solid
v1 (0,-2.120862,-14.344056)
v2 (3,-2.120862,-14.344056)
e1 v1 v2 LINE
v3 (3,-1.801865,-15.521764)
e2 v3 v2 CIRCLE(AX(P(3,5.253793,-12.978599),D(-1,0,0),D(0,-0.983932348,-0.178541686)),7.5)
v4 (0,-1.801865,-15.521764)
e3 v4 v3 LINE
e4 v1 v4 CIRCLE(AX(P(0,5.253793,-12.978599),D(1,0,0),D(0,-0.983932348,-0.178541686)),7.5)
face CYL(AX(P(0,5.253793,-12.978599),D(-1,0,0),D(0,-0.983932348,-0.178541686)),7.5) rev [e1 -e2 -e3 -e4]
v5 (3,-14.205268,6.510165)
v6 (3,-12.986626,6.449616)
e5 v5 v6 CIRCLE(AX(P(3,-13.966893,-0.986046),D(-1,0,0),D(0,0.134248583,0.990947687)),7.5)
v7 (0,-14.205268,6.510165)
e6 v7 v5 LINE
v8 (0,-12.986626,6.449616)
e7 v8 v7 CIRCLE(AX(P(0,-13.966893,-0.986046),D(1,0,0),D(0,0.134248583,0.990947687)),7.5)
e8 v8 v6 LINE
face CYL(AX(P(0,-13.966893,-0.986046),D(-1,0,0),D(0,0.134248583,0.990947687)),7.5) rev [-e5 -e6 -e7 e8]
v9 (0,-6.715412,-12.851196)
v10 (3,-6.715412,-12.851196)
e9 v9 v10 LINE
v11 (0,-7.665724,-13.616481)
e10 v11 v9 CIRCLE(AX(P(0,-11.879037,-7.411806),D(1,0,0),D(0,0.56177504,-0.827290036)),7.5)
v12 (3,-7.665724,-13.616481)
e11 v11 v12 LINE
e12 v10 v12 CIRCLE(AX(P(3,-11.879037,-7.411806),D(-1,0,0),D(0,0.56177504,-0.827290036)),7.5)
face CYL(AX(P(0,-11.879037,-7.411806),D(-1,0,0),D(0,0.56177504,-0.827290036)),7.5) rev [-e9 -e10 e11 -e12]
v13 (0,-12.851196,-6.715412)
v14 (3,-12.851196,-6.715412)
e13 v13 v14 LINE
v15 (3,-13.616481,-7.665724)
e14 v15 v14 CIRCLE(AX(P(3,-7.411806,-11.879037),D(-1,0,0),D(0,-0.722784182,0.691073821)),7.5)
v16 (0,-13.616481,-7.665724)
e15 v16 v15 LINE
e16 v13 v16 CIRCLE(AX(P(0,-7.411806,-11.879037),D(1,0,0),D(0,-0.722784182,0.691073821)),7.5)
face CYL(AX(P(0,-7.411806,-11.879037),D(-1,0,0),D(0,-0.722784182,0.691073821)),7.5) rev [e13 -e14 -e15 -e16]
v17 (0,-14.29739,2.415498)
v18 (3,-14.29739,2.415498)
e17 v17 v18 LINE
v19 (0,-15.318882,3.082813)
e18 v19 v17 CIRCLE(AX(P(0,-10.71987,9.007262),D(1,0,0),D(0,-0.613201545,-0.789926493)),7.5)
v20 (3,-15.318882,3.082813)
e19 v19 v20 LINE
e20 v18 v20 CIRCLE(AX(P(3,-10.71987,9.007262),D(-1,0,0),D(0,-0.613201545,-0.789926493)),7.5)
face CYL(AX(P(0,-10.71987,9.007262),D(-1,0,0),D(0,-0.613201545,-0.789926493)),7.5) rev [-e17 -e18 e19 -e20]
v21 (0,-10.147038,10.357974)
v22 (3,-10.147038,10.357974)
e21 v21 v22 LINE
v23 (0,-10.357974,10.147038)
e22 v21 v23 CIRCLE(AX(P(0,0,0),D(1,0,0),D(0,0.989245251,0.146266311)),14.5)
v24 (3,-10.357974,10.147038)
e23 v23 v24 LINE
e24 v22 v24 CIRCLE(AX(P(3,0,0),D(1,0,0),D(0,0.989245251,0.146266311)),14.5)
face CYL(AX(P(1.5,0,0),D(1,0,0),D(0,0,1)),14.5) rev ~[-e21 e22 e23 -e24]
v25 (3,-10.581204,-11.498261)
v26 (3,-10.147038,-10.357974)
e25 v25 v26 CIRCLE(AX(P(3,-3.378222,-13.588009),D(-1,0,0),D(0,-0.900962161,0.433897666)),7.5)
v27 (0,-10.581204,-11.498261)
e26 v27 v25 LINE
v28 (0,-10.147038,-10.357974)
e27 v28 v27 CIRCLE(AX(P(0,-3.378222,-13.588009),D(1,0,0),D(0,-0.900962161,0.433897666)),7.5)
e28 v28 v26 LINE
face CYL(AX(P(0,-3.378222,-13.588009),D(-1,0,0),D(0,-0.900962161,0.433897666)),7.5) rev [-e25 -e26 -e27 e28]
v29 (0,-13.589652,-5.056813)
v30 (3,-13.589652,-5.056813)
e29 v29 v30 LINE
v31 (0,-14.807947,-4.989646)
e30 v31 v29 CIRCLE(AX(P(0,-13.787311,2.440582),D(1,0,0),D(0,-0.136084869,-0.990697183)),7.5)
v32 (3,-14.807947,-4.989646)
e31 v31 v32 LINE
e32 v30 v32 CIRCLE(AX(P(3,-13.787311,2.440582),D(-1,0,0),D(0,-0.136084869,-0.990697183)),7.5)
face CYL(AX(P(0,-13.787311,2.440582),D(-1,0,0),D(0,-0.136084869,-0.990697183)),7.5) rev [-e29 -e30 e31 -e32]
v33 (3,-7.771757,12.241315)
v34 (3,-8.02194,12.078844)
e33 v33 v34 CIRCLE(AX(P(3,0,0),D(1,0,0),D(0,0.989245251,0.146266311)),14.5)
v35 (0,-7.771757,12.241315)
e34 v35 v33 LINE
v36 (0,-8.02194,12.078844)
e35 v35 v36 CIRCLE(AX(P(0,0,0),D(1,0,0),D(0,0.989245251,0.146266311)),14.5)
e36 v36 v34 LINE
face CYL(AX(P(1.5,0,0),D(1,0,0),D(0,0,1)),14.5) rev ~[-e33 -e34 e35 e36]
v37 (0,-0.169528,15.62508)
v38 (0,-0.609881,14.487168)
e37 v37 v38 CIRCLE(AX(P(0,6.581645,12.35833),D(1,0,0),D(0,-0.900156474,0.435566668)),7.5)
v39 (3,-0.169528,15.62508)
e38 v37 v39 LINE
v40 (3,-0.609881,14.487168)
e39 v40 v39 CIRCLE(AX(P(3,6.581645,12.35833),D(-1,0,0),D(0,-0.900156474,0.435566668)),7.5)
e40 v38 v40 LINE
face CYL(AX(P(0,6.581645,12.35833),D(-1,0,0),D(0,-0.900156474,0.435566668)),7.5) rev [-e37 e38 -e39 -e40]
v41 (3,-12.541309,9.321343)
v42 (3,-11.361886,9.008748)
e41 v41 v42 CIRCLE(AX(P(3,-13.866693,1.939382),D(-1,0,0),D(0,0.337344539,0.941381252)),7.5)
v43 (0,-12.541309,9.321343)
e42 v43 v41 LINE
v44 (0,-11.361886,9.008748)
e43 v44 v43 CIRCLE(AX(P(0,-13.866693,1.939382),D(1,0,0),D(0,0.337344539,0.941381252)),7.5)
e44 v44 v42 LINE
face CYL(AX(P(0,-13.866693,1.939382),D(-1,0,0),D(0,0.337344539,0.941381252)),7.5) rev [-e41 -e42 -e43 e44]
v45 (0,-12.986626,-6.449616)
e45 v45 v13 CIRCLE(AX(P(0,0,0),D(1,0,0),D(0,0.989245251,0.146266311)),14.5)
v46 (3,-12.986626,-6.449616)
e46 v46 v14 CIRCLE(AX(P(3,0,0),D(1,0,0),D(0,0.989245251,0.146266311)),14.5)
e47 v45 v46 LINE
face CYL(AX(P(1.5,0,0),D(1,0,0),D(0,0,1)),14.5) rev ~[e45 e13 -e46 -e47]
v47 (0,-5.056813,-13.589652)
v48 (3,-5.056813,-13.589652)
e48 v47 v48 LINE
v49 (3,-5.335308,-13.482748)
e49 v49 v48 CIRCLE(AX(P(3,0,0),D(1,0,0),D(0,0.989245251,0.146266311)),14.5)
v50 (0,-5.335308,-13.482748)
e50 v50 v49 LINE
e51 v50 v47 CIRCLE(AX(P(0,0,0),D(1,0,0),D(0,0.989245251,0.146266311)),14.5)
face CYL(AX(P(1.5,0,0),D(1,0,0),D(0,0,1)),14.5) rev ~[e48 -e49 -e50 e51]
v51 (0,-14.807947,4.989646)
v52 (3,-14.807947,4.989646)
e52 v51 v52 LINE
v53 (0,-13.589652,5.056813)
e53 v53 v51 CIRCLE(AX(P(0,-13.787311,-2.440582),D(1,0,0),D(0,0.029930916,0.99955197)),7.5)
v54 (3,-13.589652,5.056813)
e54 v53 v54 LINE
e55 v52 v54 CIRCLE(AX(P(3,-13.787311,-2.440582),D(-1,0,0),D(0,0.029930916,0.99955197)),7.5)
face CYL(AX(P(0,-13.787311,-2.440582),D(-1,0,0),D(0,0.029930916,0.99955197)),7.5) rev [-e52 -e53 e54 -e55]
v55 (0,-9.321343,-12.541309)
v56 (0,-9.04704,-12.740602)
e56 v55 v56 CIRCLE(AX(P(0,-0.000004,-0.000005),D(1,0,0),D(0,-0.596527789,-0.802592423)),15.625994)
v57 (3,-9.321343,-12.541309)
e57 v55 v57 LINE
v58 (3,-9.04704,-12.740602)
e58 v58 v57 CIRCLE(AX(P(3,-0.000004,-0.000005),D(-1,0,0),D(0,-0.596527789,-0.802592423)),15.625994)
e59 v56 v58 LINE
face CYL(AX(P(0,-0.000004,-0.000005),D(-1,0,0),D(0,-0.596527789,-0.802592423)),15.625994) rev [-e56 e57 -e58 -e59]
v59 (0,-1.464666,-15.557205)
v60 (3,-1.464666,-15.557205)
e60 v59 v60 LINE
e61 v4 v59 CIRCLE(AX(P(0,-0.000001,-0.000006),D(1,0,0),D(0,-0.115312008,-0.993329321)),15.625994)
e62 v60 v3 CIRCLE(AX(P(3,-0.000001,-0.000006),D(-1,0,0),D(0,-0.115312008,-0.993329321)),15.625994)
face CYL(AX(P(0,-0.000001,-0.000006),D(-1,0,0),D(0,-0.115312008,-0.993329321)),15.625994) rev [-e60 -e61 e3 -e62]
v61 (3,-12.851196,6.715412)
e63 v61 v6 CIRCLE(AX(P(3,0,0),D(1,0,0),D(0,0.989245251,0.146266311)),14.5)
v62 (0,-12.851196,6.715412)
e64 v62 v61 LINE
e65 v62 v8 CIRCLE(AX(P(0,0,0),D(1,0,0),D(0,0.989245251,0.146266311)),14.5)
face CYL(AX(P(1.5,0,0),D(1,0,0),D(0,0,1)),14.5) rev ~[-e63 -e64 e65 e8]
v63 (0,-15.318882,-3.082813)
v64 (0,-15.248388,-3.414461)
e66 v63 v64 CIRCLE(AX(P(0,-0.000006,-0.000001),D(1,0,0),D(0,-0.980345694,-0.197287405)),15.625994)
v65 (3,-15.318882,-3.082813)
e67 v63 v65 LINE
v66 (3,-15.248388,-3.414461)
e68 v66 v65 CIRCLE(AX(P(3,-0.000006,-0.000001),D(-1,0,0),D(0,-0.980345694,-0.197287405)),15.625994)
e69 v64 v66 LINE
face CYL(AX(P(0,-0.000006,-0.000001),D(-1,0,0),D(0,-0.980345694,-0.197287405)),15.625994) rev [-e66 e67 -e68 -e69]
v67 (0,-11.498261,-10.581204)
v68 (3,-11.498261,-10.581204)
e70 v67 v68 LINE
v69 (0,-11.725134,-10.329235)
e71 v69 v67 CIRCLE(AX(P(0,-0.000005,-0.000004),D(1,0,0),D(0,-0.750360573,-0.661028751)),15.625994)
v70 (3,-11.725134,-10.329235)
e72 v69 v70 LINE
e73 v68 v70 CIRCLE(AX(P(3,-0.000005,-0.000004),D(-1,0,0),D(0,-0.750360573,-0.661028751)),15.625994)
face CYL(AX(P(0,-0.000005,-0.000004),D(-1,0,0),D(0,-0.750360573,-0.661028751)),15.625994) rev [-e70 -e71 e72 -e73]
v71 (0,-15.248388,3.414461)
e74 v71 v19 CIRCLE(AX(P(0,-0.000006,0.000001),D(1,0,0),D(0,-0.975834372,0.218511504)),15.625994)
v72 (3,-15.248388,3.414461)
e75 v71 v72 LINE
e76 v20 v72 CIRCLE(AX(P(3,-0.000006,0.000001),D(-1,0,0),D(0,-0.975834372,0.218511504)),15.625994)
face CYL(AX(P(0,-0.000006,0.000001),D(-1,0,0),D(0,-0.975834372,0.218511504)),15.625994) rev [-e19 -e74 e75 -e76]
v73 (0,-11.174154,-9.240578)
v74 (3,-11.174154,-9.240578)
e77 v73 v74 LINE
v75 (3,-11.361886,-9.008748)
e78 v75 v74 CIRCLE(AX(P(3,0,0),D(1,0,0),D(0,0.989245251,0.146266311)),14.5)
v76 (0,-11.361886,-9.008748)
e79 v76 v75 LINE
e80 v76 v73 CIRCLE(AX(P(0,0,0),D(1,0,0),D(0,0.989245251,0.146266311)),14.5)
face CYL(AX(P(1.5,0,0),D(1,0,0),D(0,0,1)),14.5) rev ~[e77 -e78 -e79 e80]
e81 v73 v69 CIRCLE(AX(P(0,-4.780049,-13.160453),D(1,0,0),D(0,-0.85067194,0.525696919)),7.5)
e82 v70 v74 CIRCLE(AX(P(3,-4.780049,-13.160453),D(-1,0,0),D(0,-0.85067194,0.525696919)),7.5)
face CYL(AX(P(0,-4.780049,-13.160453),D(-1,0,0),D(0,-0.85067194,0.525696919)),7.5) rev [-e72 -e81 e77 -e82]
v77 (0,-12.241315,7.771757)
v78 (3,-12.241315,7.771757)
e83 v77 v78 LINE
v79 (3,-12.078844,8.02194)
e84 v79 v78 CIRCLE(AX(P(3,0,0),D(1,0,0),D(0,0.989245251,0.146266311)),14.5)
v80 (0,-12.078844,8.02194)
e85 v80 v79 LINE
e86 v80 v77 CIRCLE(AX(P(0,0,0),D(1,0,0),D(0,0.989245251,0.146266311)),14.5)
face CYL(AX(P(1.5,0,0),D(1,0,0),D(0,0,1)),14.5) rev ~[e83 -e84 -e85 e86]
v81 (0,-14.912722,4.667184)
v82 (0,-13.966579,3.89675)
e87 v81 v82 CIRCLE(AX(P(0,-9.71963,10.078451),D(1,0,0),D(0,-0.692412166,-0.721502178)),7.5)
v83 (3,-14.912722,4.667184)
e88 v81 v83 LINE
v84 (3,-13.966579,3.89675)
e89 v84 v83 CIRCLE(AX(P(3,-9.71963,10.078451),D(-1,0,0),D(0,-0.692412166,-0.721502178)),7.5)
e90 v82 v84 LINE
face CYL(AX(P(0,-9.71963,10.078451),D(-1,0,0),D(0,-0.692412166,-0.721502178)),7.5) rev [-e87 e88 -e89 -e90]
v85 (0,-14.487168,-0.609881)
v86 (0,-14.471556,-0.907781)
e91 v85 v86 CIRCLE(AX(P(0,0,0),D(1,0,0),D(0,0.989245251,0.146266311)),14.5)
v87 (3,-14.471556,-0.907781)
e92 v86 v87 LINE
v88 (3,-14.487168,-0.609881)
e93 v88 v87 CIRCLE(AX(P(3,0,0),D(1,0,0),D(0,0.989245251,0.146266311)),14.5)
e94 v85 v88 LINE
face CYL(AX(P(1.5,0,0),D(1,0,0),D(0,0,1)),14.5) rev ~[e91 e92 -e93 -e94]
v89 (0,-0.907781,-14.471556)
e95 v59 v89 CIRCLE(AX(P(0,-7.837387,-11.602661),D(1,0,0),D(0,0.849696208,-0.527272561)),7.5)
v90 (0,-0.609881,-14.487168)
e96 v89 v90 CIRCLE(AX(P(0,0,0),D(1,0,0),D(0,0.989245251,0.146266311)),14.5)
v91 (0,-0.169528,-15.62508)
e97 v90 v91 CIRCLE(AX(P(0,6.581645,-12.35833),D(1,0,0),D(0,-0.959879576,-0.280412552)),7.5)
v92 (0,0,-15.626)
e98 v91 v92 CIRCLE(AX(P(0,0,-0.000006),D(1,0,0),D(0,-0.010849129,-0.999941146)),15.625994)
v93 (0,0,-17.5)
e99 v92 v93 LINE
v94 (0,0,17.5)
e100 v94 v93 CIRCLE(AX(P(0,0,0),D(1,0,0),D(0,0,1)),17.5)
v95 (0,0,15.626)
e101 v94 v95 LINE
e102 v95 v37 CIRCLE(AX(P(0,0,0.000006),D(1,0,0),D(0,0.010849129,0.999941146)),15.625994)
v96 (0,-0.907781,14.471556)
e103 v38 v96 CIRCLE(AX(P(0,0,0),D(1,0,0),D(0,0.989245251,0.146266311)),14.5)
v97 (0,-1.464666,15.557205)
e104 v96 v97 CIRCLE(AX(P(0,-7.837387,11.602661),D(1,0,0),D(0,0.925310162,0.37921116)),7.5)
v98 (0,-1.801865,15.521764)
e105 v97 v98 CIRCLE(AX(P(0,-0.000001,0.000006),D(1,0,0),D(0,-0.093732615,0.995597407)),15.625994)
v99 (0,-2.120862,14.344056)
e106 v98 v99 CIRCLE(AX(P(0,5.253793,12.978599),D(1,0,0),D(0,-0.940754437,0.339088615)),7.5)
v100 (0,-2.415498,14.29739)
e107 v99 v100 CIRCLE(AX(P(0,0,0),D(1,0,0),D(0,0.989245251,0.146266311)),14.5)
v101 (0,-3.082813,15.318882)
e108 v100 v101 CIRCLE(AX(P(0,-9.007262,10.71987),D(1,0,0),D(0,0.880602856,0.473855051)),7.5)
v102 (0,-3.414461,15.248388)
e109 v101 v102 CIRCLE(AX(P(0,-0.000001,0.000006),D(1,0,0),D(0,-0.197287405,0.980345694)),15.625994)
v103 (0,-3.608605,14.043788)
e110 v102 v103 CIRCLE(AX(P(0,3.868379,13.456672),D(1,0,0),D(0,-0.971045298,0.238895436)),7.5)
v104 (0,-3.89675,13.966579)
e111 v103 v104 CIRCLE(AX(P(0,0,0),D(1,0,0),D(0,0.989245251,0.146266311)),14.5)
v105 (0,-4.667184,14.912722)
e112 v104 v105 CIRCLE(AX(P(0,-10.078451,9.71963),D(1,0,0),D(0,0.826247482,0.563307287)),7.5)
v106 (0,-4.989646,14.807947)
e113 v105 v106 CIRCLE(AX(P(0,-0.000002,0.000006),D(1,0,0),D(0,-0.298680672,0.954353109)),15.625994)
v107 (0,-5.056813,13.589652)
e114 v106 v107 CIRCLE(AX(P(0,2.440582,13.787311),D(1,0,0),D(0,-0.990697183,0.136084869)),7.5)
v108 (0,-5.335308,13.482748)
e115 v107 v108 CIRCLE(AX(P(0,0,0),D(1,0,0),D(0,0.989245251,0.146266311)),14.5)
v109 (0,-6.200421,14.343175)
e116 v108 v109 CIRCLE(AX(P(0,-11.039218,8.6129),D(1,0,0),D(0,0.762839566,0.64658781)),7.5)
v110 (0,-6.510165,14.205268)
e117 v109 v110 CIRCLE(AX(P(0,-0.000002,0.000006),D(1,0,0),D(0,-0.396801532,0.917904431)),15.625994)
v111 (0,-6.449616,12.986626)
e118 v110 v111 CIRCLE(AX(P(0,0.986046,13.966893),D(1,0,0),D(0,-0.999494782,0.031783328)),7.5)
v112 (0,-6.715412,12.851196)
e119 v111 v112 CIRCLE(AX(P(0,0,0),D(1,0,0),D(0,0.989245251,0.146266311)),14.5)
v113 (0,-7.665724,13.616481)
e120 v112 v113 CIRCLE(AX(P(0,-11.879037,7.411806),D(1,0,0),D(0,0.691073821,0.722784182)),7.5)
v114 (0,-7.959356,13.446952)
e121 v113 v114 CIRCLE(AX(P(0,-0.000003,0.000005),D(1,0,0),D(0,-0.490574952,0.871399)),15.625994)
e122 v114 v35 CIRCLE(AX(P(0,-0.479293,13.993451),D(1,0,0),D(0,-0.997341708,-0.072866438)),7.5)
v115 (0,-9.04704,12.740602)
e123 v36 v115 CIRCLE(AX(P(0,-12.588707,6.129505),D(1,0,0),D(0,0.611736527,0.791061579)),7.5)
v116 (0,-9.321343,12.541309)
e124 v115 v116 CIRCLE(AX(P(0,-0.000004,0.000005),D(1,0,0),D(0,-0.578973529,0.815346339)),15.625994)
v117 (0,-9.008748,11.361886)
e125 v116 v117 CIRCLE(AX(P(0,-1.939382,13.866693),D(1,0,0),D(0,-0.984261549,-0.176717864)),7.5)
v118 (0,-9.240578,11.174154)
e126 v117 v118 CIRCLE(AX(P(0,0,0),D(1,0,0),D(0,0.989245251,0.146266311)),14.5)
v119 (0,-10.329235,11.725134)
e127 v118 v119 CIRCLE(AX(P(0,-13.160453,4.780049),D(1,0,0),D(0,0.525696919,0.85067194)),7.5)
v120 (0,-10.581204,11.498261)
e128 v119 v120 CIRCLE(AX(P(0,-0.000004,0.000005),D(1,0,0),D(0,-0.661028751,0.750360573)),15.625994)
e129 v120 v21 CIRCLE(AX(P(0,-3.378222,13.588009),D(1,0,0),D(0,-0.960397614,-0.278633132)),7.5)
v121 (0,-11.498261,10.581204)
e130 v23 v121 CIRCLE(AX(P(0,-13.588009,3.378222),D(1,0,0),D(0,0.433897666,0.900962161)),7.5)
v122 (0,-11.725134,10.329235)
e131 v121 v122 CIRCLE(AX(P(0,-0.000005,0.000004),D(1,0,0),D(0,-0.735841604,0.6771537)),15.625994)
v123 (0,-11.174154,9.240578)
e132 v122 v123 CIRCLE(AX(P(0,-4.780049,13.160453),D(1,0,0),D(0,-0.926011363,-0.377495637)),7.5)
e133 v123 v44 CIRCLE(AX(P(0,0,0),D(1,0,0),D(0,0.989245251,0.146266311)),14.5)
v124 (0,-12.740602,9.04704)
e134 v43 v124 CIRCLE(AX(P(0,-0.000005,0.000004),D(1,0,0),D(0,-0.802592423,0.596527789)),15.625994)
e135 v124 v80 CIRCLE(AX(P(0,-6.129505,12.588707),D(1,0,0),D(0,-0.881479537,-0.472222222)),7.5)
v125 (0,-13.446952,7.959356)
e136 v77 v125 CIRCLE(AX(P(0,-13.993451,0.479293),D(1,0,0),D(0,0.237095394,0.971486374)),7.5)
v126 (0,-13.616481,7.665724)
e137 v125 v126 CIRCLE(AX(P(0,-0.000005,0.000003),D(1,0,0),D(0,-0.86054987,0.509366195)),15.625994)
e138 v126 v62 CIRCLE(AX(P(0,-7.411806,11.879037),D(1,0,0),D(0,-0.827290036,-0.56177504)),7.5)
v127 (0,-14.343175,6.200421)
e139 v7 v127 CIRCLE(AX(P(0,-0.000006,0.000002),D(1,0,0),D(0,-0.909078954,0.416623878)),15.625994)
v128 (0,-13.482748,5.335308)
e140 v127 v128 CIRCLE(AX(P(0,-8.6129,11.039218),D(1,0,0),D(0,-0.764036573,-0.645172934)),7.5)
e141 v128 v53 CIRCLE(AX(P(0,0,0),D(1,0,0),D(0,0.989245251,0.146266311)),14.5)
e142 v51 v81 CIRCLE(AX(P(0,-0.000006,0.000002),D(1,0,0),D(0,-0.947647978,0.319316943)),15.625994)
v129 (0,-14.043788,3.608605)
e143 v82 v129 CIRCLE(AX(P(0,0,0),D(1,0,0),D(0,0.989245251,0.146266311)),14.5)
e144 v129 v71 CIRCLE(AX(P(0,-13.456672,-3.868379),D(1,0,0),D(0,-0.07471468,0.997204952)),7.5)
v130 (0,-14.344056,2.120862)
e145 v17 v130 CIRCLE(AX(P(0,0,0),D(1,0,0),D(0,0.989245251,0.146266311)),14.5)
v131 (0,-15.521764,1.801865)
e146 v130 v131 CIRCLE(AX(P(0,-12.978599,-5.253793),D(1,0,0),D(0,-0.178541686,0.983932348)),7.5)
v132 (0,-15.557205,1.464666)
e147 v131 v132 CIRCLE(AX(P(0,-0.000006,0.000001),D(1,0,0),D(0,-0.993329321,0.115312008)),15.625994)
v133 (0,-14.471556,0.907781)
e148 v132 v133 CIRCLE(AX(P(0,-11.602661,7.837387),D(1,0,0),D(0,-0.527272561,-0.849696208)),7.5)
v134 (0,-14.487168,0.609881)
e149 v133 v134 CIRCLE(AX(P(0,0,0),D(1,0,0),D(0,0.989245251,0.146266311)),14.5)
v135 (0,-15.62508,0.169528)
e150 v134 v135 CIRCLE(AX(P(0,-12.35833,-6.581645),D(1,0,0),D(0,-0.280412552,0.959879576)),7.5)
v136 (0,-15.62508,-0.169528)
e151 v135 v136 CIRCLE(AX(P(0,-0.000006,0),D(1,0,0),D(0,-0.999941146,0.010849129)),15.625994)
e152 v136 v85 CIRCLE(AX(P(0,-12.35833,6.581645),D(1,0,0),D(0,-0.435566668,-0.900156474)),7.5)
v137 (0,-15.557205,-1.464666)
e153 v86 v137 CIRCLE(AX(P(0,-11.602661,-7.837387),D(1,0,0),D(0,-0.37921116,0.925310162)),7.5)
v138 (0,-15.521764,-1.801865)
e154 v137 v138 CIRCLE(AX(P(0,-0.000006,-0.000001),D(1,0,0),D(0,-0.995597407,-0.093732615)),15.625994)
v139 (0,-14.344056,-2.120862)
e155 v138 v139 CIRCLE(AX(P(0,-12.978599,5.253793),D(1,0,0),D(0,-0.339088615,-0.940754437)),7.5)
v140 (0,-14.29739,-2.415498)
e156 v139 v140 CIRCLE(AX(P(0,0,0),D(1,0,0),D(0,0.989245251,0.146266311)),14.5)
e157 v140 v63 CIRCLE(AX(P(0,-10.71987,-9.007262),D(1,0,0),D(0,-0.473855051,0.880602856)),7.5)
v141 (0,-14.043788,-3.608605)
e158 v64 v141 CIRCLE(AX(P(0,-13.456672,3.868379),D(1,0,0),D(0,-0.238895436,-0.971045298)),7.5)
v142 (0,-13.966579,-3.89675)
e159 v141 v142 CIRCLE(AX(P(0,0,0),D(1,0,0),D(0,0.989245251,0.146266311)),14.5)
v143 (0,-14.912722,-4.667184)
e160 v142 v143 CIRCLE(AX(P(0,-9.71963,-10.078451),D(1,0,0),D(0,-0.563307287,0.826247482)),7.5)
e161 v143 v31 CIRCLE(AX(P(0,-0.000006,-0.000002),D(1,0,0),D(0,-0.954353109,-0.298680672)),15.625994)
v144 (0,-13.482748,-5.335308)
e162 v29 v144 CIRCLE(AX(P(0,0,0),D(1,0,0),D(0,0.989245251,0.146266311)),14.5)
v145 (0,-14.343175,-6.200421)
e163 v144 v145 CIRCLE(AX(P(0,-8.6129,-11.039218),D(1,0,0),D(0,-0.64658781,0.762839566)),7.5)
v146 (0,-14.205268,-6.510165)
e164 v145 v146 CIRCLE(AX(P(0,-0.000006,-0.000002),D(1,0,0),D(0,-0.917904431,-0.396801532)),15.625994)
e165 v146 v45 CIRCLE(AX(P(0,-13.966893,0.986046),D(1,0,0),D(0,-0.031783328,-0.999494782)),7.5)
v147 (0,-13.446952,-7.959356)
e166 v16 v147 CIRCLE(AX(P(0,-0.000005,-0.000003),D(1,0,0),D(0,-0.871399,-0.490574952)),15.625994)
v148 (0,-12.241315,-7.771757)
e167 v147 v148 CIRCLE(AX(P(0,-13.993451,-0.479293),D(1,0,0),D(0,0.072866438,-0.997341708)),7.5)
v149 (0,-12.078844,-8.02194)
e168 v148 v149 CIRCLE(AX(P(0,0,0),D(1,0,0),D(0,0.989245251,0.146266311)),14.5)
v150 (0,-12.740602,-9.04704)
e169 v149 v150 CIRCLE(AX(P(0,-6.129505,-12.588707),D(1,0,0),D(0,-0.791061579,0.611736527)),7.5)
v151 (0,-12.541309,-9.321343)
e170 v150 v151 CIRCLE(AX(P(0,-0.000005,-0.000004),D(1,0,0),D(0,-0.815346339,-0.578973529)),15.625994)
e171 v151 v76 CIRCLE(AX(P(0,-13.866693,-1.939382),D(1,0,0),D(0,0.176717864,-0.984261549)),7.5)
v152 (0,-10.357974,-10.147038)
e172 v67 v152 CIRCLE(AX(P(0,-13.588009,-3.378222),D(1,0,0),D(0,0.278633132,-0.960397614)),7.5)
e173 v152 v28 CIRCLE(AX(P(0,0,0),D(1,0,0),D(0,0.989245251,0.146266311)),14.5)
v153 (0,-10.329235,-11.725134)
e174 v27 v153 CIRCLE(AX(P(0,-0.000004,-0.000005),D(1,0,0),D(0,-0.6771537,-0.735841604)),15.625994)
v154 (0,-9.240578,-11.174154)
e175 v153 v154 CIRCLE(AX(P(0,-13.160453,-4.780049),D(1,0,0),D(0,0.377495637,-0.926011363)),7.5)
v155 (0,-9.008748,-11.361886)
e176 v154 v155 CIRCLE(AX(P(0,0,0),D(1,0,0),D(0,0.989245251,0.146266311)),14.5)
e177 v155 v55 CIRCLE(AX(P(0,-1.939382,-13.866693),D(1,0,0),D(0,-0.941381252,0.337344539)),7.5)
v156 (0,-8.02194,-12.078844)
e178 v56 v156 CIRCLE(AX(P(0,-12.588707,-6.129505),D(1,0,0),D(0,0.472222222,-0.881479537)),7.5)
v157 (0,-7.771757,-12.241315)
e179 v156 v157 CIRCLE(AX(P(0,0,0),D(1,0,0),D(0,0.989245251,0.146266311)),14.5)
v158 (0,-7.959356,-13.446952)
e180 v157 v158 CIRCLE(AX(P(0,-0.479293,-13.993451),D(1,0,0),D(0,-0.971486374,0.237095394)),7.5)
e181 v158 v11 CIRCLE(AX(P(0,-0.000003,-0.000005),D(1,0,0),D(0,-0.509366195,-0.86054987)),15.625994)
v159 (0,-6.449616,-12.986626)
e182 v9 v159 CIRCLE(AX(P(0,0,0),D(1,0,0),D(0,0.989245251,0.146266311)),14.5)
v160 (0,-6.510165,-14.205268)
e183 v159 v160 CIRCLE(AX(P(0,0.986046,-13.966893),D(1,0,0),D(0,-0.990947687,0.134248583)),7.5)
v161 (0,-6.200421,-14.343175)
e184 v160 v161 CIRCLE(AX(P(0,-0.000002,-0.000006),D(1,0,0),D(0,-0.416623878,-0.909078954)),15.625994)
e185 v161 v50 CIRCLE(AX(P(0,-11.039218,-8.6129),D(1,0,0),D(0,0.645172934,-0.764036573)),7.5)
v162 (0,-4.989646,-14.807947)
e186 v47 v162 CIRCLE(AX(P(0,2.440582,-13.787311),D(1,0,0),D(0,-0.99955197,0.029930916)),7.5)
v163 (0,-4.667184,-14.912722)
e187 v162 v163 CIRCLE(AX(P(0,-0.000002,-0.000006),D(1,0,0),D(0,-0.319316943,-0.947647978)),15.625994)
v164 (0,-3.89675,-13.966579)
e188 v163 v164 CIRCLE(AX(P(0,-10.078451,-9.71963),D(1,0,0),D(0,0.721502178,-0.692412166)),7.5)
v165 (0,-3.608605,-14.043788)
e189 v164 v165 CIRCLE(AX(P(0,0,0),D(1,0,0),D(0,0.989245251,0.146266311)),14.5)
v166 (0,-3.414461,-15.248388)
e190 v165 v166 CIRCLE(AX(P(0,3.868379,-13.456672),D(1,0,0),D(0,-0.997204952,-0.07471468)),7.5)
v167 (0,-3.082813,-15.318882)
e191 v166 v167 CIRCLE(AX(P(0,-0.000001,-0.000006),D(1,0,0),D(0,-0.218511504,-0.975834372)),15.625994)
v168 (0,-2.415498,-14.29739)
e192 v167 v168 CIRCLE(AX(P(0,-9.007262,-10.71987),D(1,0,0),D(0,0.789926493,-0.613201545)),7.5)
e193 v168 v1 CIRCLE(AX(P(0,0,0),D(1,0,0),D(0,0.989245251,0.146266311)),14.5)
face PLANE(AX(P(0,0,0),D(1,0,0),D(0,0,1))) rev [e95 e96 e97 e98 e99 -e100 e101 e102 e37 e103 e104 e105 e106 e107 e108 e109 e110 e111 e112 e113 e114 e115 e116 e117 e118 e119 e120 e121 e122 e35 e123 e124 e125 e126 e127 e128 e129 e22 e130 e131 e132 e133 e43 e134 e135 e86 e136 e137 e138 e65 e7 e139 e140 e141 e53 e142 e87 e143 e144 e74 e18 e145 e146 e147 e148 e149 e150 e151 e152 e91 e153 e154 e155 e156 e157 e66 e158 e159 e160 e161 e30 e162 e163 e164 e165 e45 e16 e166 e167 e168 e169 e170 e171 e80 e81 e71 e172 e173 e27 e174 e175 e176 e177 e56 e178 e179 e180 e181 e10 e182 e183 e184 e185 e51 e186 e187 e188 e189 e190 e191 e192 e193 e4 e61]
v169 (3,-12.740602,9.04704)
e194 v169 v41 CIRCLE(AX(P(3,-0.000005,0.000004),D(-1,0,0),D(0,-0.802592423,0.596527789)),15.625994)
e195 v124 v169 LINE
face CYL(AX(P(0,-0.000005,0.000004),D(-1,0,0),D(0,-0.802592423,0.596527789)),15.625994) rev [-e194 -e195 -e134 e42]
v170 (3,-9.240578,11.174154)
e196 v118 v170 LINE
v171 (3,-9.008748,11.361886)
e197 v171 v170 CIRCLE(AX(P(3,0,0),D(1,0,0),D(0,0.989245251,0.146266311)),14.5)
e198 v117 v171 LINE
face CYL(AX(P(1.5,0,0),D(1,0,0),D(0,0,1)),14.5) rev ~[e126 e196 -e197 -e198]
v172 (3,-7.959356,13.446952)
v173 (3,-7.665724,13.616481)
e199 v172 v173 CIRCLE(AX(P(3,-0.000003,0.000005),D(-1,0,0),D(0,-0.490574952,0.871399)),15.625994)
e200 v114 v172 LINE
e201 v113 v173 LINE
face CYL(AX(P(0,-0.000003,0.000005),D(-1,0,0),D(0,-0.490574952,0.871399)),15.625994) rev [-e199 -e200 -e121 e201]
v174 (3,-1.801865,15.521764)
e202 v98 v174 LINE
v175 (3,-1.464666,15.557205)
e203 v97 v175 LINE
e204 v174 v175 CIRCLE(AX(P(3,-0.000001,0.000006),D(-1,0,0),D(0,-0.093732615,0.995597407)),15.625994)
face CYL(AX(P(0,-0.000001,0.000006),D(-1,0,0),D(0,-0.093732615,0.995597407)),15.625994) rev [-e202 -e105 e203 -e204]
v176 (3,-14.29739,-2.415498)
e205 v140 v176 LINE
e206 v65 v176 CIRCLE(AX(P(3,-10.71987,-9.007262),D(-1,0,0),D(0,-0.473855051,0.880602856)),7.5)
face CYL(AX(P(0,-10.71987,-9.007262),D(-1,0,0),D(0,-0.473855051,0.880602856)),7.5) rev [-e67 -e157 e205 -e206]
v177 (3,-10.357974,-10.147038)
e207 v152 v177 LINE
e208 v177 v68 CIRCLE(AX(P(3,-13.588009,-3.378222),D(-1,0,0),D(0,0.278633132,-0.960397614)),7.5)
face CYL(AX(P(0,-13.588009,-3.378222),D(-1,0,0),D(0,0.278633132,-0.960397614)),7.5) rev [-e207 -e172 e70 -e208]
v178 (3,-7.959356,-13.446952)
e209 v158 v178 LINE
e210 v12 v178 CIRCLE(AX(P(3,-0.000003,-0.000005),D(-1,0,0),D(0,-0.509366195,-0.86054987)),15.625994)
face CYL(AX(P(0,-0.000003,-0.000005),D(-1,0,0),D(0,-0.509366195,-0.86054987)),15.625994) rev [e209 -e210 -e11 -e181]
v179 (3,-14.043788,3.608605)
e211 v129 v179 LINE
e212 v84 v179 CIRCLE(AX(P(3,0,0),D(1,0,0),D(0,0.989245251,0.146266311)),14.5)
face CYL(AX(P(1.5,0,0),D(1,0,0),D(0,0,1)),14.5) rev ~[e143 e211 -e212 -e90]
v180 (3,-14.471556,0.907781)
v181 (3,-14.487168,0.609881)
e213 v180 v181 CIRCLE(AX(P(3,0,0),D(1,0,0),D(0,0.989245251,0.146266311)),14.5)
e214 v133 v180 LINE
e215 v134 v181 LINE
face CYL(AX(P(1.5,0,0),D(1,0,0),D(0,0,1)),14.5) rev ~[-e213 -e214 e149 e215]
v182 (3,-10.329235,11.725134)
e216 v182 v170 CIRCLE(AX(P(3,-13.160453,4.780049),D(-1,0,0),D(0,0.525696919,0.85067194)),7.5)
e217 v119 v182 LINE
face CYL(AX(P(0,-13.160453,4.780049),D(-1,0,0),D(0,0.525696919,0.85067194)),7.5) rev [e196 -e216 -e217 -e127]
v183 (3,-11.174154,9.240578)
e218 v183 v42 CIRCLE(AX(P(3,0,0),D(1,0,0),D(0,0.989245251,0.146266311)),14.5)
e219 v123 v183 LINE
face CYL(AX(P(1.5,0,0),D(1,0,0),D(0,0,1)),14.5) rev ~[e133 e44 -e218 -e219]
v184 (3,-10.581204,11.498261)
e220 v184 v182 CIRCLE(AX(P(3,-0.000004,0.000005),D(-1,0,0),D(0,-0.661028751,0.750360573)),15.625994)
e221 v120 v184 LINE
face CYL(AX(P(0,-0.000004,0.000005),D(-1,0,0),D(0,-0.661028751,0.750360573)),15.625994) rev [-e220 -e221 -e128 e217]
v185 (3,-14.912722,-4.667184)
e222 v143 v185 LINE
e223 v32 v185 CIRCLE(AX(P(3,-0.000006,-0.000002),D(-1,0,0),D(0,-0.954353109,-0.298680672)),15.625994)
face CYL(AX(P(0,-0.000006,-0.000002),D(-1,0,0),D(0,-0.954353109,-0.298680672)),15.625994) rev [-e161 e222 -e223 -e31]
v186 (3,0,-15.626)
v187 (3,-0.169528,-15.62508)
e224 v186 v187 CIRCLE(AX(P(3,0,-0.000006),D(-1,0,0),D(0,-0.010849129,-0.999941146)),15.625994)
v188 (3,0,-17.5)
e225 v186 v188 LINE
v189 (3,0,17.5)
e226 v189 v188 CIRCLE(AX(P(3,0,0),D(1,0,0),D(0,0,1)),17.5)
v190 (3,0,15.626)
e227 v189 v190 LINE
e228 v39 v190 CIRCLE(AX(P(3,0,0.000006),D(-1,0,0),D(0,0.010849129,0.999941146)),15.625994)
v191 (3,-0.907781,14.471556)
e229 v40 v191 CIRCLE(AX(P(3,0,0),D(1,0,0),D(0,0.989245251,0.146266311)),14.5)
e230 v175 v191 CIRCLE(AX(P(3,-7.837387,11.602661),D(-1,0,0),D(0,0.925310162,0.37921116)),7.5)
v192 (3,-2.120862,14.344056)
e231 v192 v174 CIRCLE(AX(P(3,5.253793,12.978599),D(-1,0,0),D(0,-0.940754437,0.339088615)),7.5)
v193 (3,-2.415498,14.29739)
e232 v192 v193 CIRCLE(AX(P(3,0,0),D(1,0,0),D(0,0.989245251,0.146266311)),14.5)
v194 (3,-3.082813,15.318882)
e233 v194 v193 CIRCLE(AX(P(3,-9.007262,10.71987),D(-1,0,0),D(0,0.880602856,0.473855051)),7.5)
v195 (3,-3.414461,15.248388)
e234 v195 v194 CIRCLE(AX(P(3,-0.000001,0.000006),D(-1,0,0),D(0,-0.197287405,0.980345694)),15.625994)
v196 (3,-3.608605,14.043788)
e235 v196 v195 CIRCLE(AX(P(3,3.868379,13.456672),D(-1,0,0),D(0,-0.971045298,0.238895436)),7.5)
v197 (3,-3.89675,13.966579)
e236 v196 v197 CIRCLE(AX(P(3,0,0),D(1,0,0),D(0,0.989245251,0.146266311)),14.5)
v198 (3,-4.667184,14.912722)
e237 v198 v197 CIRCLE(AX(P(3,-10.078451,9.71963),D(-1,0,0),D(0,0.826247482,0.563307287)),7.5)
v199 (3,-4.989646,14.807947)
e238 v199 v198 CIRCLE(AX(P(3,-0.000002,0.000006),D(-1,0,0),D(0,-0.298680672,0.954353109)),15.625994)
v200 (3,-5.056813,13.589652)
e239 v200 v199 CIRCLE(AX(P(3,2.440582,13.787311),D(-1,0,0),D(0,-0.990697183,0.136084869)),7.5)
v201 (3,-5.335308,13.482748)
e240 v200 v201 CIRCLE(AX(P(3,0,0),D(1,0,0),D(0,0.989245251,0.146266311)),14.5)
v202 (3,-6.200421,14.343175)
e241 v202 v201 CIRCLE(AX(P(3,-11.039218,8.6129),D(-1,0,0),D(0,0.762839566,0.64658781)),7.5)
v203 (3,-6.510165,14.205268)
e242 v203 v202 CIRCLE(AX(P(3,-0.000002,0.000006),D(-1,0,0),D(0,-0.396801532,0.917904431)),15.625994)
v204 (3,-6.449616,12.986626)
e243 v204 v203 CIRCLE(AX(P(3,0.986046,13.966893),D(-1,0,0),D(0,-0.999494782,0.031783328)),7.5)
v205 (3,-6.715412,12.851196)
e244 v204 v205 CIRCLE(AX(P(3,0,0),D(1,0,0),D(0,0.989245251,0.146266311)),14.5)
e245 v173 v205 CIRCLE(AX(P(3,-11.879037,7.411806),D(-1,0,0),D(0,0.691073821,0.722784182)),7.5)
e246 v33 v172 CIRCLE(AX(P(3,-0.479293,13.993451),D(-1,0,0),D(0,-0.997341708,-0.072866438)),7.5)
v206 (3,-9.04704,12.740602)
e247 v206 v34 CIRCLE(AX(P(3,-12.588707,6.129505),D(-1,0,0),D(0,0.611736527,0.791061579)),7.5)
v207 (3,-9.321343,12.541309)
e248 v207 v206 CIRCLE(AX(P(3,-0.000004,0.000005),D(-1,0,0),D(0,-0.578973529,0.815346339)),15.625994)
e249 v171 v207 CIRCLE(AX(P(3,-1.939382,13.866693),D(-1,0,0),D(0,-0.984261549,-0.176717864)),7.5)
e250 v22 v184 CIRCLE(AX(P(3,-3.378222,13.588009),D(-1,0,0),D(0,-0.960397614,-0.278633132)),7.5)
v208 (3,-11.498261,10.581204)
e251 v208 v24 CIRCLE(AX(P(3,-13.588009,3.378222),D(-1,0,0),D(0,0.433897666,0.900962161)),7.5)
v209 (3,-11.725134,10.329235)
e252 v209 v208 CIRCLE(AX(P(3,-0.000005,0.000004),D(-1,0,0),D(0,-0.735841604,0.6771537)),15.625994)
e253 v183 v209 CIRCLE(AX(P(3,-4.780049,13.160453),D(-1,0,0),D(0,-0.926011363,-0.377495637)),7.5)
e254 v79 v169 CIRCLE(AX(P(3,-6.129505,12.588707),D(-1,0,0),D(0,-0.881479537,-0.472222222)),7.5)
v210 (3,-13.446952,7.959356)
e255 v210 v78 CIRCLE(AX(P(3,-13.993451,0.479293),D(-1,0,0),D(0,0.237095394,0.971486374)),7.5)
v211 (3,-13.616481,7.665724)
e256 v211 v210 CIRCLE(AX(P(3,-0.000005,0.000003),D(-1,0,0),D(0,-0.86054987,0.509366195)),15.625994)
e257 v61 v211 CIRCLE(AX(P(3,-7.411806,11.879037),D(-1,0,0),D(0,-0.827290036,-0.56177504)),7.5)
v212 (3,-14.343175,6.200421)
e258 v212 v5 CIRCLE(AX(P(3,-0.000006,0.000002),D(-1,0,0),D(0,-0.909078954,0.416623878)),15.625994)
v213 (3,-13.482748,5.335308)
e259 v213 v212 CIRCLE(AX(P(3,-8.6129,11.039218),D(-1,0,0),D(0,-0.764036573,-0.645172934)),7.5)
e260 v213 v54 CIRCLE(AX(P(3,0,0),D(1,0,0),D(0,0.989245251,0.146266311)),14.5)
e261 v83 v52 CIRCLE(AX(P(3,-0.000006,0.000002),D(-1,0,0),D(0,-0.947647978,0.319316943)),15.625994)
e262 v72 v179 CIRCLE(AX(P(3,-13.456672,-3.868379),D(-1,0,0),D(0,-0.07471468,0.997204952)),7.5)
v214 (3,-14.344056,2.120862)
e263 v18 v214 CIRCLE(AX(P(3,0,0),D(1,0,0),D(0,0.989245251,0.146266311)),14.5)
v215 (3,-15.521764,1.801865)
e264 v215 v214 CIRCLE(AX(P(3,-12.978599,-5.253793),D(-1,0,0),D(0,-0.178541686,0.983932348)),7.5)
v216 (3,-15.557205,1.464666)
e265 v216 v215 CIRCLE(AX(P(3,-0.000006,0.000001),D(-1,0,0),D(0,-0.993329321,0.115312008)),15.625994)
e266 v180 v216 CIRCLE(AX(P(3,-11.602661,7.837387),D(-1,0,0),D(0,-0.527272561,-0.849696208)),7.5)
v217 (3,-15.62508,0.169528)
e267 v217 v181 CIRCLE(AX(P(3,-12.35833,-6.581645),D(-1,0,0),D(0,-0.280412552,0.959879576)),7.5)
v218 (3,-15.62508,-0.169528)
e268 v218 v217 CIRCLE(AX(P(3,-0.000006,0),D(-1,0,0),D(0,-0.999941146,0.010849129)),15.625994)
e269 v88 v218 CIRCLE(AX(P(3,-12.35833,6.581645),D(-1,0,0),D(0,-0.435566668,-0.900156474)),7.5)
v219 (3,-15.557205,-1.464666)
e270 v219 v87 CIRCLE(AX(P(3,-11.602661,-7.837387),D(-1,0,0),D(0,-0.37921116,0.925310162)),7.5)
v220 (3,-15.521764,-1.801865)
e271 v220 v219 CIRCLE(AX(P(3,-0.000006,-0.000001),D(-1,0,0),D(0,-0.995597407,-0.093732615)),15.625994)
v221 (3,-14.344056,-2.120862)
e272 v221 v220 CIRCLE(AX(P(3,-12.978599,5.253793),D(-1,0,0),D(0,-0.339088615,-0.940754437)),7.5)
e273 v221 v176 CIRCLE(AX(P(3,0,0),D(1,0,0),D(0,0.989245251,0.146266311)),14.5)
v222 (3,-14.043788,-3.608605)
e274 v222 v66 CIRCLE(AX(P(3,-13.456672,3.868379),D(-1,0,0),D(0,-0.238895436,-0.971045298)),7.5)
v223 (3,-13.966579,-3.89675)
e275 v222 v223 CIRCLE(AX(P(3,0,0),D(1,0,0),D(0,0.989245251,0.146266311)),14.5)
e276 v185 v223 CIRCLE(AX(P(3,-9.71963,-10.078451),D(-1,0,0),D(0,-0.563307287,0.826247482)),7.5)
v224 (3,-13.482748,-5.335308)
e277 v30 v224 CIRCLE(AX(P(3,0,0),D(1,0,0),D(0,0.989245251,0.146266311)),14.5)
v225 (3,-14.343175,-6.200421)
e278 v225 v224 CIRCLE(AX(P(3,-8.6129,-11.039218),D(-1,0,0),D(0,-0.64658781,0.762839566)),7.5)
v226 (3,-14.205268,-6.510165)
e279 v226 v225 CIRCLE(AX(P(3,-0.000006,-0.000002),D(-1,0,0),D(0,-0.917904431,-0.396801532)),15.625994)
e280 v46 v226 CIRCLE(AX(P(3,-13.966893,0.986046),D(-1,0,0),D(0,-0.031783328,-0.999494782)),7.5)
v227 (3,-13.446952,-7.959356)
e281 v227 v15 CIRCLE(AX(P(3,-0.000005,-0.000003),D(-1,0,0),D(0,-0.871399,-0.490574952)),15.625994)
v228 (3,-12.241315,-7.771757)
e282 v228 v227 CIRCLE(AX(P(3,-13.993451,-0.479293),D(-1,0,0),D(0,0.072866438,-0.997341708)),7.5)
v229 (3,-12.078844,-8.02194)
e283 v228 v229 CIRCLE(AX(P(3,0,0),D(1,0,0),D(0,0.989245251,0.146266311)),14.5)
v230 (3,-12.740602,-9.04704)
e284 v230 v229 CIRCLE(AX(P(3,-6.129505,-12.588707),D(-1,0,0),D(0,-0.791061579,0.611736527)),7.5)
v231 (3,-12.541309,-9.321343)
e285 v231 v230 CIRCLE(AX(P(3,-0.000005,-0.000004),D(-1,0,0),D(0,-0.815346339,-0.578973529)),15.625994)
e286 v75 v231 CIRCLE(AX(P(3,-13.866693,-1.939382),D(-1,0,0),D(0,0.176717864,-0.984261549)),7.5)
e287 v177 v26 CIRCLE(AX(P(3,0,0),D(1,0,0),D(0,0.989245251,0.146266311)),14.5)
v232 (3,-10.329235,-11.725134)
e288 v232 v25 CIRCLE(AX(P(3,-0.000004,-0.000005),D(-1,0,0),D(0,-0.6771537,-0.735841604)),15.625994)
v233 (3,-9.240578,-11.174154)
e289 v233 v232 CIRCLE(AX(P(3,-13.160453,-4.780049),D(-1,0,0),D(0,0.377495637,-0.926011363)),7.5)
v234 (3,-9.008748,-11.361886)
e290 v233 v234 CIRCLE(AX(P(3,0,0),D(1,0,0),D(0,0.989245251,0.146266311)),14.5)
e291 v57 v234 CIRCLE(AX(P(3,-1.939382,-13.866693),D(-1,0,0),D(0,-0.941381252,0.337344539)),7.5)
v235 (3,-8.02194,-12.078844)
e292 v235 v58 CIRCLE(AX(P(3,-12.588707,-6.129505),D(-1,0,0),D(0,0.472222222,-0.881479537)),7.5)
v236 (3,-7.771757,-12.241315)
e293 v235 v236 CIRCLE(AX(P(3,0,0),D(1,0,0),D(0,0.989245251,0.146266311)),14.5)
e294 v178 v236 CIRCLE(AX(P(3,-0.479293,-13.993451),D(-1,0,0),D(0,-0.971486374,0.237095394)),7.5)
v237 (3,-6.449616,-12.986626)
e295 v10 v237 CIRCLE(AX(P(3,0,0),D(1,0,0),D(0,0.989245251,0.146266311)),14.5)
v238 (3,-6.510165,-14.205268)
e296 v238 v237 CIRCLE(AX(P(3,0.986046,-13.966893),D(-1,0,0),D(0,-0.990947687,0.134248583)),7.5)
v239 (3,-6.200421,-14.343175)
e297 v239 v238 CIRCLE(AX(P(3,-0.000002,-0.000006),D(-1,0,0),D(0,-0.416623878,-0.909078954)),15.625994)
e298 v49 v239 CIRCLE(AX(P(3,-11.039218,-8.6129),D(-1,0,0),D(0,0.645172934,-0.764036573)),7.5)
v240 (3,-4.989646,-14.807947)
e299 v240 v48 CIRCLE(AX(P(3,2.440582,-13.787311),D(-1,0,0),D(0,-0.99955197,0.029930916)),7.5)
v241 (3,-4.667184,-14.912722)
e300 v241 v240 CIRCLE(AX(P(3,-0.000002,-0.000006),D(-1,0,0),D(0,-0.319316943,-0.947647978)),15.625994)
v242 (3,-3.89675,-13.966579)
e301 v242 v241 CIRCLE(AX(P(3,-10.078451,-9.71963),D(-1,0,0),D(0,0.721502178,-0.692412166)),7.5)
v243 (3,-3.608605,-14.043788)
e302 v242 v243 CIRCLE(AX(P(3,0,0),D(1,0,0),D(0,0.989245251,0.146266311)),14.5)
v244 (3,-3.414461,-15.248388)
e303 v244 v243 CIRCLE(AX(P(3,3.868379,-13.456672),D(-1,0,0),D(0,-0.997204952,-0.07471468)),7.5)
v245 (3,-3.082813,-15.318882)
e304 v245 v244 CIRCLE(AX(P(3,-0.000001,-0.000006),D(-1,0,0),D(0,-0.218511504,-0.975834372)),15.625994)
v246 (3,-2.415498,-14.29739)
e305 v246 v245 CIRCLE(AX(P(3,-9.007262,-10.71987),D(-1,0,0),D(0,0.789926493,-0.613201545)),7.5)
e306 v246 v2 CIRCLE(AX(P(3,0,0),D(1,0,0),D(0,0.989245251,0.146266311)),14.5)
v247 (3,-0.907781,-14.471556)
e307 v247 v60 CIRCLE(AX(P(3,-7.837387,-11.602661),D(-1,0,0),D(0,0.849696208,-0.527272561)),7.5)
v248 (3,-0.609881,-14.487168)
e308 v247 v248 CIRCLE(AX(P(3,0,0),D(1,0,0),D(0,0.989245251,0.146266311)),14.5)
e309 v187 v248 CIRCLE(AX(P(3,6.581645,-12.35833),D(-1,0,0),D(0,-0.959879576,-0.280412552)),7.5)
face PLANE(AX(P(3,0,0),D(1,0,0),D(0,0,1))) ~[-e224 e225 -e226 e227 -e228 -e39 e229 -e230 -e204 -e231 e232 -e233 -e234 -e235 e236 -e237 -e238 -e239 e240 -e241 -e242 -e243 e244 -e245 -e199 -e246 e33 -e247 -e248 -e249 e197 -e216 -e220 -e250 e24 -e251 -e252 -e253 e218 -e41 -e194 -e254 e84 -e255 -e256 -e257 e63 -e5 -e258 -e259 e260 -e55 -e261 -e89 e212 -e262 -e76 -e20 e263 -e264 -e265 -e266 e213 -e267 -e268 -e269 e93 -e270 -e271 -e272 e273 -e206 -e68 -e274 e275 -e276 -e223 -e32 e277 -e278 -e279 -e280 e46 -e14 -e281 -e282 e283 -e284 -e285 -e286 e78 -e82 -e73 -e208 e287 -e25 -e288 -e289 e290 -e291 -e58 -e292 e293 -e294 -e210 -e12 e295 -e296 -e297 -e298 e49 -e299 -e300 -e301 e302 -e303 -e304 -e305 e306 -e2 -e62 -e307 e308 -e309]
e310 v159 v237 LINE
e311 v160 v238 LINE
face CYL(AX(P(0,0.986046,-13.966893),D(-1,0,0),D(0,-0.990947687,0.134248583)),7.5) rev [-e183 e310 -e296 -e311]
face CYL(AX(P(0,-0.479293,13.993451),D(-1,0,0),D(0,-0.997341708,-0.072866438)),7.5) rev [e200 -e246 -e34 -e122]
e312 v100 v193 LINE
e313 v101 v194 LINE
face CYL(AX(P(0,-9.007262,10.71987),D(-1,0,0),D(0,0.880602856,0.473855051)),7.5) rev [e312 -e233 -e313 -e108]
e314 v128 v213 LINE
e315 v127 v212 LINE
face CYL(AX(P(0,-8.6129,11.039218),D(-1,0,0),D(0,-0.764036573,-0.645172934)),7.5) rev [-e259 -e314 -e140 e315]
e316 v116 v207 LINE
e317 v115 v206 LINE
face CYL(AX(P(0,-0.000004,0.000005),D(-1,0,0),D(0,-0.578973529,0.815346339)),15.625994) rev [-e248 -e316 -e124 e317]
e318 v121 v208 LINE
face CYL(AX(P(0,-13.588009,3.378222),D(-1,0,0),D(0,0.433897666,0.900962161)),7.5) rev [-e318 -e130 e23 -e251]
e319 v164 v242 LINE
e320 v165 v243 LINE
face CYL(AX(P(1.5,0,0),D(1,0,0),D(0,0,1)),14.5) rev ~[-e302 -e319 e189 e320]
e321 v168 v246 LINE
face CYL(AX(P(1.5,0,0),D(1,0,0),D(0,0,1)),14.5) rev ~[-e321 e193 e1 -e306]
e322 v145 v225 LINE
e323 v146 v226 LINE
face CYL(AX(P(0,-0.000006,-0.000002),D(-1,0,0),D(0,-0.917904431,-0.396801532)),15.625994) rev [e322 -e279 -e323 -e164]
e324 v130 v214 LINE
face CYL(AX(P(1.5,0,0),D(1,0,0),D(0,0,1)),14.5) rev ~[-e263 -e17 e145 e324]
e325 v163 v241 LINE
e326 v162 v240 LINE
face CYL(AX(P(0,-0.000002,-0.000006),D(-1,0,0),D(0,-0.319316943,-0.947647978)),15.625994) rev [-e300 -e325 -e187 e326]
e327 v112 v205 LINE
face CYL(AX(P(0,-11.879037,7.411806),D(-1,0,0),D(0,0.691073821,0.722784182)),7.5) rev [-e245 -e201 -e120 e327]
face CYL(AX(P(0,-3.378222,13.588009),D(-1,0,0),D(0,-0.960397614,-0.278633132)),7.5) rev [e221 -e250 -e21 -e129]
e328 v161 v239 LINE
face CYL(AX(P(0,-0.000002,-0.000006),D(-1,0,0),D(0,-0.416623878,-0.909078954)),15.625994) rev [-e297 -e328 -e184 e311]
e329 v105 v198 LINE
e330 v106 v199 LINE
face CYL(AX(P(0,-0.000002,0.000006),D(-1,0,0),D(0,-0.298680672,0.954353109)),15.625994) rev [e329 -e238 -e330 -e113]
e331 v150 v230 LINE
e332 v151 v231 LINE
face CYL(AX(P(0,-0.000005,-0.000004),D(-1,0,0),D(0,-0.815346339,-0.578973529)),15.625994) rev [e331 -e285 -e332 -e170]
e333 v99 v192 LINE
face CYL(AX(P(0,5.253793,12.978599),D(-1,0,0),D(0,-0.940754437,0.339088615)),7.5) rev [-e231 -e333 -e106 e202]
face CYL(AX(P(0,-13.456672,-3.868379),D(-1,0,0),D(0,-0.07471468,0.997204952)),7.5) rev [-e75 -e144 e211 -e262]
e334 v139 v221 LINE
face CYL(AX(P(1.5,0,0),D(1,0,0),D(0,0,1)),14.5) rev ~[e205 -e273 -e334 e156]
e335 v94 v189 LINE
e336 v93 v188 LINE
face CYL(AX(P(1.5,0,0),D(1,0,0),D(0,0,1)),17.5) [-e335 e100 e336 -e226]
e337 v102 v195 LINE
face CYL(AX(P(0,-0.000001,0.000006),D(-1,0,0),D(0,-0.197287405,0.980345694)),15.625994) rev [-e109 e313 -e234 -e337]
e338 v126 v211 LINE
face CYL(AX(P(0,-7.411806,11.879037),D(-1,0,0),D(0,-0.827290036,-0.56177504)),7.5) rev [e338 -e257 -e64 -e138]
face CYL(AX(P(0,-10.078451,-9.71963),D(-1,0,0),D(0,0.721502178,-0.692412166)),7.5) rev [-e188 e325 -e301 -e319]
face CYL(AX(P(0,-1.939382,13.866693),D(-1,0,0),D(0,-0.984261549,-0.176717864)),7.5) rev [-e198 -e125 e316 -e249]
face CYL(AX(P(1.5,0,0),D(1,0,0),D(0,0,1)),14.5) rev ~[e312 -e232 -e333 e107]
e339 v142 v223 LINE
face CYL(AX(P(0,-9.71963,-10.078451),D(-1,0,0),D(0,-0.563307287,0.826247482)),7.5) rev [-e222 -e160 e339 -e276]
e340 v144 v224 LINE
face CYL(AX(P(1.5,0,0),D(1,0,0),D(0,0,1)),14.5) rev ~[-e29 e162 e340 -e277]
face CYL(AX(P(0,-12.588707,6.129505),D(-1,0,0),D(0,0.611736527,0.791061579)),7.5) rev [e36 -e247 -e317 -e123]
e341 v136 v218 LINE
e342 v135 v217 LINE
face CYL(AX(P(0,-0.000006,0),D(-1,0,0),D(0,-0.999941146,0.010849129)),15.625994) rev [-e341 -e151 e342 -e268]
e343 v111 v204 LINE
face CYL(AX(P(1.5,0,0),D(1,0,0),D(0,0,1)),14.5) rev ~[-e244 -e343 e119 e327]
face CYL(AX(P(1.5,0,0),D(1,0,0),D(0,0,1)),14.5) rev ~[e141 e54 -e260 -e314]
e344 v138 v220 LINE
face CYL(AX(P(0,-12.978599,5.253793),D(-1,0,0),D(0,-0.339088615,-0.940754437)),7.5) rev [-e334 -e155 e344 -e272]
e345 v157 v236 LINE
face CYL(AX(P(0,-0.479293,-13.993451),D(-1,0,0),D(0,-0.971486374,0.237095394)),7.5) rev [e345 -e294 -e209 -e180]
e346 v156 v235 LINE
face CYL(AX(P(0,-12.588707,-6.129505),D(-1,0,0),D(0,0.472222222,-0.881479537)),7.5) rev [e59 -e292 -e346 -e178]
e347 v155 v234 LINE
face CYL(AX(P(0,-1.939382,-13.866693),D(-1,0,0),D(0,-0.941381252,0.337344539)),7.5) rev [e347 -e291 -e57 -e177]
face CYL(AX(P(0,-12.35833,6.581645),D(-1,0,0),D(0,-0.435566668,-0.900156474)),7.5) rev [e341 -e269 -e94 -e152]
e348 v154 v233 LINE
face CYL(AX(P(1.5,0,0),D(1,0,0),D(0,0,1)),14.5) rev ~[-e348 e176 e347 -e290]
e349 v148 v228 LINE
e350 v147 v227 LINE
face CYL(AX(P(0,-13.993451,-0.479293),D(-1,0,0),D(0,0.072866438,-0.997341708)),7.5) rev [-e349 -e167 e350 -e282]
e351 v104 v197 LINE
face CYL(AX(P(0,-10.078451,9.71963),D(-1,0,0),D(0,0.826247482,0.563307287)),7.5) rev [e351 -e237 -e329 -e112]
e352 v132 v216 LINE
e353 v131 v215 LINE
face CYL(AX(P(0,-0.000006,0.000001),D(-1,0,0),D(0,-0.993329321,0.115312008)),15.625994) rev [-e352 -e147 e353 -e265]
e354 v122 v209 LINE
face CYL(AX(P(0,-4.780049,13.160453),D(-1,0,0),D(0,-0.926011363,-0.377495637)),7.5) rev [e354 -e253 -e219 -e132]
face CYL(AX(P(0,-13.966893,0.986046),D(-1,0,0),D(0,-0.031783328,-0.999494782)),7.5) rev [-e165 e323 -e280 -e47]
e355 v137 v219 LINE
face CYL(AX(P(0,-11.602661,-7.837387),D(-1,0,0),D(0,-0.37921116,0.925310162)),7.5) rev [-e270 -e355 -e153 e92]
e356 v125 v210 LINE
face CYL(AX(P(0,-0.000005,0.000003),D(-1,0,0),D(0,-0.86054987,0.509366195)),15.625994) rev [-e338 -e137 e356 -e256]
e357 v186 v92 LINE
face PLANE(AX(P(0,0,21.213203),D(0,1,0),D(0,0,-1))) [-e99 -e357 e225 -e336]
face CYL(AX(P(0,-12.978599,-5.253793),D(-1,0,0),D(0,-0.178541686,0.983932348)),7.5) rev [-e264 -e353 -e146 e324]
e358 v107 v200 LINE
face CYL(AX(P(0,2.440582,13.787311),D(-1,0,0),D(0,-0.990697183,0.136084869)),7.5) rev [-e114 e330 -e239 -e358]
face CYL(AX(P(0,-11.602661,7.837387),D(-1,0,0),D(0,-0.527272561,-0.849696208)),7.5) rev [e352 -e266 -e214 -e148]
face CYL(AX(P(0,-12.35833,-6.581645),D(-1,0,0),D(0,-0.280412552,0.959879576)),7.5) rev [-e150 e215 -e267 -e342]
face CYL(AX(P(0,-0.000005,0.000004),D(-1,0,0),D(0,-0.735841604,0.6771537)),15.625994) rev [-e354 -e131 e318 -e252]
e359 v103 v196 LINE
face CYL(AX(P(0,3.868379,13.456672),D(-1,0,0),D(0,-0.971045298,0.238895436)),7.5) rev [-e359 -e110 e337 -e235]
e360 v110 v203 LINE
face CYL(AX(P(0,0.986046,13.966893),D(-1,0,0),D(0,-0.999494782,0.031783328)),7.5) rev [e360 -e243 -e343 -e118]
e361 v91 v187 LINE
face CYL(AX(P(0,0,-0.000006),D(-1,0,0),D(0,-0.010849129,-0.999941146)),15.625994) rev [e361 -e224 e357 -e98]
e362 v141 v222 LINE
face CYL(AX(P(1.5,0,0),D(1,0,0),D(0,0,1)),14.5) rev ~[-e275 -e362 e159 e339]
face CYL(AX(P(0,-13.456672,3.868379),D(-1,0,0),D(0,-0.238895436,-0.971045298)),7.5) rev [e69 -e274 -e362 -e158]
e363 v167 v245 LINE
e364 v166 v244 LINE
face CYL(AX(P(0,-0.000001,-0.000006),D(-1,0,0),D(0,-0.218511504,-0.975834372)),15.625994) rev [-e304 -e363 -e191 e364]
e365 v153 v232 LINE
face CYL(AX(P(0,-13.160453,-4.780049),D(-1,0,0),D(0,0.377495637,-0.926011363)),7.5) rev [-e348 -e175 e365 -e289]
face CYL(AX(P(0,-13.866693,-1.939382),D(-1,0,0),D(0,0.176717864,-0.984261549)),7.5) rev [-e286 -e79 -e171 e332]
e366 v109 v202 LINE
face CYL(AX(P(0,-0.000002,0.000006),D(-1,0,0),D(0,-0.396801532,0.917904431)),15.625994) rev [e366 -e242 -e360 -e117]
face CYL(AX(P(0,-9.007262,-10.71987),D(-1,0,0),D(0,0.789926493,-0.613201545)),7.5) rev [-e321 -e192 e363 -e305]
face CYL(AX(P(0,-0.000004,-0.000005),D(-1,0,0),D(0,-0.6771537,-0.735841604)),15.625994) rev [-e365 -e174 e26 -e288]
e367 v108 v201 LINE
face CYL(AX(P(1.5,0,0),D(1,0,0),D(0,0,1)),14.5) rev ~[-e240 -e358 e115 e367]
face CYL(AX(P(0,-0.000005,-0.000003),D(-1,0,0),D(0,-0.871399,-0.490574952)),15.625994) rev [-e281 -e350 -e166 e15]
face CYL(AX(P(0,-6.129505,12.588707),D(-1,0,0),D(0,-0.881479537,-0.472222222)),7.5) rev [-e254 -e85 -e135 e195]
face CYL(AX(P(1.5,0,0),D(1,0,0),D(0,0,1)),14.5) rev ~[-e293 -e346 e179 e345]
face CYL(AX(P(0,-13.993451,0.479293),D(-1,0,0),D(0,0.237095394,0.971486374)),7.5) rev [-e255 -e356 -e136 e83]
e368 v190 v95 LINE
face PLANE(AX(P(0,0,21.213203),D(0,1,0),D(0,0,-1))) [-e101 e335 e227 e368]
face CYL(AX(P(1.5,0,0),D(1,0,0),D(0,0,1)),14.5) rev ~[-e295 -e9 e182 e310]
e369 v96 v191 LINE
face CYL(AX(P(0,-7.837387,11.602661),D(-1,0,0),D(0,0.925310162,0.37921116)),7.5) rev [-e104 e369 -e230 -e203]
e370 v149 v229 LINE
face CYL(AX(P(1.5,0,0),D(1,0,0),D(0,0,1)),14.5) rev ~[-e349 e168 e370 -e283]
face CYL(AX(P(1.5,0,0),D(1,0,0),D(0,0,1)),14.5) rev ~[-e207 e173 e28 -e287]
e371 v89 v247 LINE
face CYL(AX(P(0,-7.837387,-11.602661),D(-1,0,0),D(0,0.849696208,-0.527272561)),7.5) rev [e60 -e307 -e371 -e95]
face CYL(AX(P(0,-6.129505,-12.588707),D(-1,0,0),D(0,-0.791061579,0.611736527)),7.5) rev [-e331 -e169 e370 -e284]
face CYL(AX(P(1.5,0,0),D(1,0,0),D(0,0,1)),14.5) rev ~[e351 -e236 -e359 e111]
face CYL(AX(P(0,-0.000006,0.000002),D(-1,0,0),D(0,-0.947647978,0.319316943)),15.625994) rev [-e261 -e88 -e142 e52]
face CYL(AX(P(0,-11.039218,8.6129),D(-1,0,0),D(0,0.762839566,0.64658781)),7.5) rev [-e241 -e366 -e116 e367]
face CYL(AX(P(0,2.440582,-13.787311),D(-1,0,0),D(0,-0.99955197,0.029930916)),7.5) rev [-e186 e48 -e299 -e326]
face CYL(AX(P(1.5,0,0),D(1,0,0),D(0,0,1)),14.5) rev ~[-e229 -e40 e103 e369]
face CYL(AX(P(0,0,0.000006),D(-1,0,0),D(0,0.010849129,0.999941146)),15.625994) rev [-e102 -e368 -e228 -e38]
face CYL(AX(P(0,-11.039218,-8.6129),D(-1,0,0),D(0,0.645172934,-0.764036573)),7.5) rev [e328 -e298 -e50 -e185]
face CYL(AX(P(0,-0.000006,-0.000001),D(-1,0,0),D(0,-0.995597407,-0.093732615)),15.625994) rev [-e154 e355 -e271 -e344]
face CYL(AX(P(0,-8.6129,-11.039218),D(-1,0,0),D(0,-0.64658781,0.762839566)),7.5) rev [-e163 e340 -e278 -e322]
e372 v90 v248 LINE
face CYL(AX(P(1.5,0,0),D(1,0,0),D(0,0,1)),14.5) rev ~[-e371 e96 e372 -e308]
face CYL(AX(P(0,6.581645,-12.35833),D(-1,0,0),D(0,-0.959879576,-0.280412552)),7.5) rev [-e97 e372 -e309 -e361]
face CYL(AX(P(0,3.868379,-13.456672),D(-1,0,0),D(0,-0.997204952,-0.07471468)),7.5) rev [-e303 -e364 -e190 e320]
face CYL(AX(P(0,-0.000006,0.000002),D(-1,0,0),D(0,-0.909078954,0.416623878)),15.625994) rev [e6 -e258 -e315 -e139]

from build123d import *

# Parameters (mm, degrees)
BASPROSKE_W           = 3
BASPROSKE_H           = 3
TOOTHCUT_DEPTH        = 25.929901725
TEETHCUTS_COUNT       = 60
TEETHCUTS_ANGLE       = 354
CROQUIS2_W            = 41.366506873
CROQUIS2_H            = 18.973334131
CORTAR_EXTRUIR1_DEPTH = 25.929901725


with BuildPart() as part:
    # BasProSke → Base-Revolve (revolve)
    with BuildSketch(Plane(origin=(0, 0, 0), x_dir=(1, 0, 0), z_dir=(0, 1, 0)), mode=Mode.PRIVATE) as base_revolve_sk:
        with Locations((1.5, 16)):
            Rectangle(BASPROSKE_W, BASPROSKE_H)
    revolve(base_revolve_sk.sketch.rotate(Axis((-10, 0, 0), (1, 0, 0)), 180), axis=Axis((-10, 0, 0), (1, 0, 0)))

    # TooCutSke → ToothCut (cut, through all)
    with BuildSketch(Plane(origin=(0, 0, 0), x_dir=(0, 0, -1), z_dir=(1, 0, 0))):
        with BuildLine():
            ThreePointArc((0.61745169, 14.4614245), (0.417714459, 15.052577068), (0.16952843, 15.625080355))
            ThreePointArc((0.16952843, 15.625080355), (0, 15.626), (-0.16952843, 15.625080355))
            ThreePointArc((-0.16952843, 15.625080355), (-0.417714459, 15.052577068), (-0.61745169, 14.4614245))
            ThreePointArc((-0.61745169, 14.4614245), (0, 14.4746), (0.61745169, 14.4614245))
        make_face()
    toothcut = extrude(amount=TOOTHCUT_DEPTH, mode=Mode.SUBTRACT)

    # TeethCuts: ToothCut ×60 about axis
    teethcuts_axis = Axis((-10, 0, 0), (1, 0, 0))
    for i in range(1, TEETHCUTS_COUNT):
        add(toothcut.rotate(teethcuts_axis, i * TEETHCUTS_ANGLE / (TEETHCUTS_COUNT - 1)), mode=Mode.SUBTRACT)

    # Croquis2 → Cortar-Extruir1 (cut, through all)
    with BuildSketch(Plane(origin=(0, 0, 0), x_dir=(0, 0, -1), z_dir=(1, 0, 0))):
        with Locations((-0.529949999, 9.486667066)):
            Rectangle(CROQUIS2_W, CROQUIS2_H)
    extrude(amount=CORTAR_EXTRUIR1_DEPTH, mode=Mode.SUBTRACT)


solid = part.part
